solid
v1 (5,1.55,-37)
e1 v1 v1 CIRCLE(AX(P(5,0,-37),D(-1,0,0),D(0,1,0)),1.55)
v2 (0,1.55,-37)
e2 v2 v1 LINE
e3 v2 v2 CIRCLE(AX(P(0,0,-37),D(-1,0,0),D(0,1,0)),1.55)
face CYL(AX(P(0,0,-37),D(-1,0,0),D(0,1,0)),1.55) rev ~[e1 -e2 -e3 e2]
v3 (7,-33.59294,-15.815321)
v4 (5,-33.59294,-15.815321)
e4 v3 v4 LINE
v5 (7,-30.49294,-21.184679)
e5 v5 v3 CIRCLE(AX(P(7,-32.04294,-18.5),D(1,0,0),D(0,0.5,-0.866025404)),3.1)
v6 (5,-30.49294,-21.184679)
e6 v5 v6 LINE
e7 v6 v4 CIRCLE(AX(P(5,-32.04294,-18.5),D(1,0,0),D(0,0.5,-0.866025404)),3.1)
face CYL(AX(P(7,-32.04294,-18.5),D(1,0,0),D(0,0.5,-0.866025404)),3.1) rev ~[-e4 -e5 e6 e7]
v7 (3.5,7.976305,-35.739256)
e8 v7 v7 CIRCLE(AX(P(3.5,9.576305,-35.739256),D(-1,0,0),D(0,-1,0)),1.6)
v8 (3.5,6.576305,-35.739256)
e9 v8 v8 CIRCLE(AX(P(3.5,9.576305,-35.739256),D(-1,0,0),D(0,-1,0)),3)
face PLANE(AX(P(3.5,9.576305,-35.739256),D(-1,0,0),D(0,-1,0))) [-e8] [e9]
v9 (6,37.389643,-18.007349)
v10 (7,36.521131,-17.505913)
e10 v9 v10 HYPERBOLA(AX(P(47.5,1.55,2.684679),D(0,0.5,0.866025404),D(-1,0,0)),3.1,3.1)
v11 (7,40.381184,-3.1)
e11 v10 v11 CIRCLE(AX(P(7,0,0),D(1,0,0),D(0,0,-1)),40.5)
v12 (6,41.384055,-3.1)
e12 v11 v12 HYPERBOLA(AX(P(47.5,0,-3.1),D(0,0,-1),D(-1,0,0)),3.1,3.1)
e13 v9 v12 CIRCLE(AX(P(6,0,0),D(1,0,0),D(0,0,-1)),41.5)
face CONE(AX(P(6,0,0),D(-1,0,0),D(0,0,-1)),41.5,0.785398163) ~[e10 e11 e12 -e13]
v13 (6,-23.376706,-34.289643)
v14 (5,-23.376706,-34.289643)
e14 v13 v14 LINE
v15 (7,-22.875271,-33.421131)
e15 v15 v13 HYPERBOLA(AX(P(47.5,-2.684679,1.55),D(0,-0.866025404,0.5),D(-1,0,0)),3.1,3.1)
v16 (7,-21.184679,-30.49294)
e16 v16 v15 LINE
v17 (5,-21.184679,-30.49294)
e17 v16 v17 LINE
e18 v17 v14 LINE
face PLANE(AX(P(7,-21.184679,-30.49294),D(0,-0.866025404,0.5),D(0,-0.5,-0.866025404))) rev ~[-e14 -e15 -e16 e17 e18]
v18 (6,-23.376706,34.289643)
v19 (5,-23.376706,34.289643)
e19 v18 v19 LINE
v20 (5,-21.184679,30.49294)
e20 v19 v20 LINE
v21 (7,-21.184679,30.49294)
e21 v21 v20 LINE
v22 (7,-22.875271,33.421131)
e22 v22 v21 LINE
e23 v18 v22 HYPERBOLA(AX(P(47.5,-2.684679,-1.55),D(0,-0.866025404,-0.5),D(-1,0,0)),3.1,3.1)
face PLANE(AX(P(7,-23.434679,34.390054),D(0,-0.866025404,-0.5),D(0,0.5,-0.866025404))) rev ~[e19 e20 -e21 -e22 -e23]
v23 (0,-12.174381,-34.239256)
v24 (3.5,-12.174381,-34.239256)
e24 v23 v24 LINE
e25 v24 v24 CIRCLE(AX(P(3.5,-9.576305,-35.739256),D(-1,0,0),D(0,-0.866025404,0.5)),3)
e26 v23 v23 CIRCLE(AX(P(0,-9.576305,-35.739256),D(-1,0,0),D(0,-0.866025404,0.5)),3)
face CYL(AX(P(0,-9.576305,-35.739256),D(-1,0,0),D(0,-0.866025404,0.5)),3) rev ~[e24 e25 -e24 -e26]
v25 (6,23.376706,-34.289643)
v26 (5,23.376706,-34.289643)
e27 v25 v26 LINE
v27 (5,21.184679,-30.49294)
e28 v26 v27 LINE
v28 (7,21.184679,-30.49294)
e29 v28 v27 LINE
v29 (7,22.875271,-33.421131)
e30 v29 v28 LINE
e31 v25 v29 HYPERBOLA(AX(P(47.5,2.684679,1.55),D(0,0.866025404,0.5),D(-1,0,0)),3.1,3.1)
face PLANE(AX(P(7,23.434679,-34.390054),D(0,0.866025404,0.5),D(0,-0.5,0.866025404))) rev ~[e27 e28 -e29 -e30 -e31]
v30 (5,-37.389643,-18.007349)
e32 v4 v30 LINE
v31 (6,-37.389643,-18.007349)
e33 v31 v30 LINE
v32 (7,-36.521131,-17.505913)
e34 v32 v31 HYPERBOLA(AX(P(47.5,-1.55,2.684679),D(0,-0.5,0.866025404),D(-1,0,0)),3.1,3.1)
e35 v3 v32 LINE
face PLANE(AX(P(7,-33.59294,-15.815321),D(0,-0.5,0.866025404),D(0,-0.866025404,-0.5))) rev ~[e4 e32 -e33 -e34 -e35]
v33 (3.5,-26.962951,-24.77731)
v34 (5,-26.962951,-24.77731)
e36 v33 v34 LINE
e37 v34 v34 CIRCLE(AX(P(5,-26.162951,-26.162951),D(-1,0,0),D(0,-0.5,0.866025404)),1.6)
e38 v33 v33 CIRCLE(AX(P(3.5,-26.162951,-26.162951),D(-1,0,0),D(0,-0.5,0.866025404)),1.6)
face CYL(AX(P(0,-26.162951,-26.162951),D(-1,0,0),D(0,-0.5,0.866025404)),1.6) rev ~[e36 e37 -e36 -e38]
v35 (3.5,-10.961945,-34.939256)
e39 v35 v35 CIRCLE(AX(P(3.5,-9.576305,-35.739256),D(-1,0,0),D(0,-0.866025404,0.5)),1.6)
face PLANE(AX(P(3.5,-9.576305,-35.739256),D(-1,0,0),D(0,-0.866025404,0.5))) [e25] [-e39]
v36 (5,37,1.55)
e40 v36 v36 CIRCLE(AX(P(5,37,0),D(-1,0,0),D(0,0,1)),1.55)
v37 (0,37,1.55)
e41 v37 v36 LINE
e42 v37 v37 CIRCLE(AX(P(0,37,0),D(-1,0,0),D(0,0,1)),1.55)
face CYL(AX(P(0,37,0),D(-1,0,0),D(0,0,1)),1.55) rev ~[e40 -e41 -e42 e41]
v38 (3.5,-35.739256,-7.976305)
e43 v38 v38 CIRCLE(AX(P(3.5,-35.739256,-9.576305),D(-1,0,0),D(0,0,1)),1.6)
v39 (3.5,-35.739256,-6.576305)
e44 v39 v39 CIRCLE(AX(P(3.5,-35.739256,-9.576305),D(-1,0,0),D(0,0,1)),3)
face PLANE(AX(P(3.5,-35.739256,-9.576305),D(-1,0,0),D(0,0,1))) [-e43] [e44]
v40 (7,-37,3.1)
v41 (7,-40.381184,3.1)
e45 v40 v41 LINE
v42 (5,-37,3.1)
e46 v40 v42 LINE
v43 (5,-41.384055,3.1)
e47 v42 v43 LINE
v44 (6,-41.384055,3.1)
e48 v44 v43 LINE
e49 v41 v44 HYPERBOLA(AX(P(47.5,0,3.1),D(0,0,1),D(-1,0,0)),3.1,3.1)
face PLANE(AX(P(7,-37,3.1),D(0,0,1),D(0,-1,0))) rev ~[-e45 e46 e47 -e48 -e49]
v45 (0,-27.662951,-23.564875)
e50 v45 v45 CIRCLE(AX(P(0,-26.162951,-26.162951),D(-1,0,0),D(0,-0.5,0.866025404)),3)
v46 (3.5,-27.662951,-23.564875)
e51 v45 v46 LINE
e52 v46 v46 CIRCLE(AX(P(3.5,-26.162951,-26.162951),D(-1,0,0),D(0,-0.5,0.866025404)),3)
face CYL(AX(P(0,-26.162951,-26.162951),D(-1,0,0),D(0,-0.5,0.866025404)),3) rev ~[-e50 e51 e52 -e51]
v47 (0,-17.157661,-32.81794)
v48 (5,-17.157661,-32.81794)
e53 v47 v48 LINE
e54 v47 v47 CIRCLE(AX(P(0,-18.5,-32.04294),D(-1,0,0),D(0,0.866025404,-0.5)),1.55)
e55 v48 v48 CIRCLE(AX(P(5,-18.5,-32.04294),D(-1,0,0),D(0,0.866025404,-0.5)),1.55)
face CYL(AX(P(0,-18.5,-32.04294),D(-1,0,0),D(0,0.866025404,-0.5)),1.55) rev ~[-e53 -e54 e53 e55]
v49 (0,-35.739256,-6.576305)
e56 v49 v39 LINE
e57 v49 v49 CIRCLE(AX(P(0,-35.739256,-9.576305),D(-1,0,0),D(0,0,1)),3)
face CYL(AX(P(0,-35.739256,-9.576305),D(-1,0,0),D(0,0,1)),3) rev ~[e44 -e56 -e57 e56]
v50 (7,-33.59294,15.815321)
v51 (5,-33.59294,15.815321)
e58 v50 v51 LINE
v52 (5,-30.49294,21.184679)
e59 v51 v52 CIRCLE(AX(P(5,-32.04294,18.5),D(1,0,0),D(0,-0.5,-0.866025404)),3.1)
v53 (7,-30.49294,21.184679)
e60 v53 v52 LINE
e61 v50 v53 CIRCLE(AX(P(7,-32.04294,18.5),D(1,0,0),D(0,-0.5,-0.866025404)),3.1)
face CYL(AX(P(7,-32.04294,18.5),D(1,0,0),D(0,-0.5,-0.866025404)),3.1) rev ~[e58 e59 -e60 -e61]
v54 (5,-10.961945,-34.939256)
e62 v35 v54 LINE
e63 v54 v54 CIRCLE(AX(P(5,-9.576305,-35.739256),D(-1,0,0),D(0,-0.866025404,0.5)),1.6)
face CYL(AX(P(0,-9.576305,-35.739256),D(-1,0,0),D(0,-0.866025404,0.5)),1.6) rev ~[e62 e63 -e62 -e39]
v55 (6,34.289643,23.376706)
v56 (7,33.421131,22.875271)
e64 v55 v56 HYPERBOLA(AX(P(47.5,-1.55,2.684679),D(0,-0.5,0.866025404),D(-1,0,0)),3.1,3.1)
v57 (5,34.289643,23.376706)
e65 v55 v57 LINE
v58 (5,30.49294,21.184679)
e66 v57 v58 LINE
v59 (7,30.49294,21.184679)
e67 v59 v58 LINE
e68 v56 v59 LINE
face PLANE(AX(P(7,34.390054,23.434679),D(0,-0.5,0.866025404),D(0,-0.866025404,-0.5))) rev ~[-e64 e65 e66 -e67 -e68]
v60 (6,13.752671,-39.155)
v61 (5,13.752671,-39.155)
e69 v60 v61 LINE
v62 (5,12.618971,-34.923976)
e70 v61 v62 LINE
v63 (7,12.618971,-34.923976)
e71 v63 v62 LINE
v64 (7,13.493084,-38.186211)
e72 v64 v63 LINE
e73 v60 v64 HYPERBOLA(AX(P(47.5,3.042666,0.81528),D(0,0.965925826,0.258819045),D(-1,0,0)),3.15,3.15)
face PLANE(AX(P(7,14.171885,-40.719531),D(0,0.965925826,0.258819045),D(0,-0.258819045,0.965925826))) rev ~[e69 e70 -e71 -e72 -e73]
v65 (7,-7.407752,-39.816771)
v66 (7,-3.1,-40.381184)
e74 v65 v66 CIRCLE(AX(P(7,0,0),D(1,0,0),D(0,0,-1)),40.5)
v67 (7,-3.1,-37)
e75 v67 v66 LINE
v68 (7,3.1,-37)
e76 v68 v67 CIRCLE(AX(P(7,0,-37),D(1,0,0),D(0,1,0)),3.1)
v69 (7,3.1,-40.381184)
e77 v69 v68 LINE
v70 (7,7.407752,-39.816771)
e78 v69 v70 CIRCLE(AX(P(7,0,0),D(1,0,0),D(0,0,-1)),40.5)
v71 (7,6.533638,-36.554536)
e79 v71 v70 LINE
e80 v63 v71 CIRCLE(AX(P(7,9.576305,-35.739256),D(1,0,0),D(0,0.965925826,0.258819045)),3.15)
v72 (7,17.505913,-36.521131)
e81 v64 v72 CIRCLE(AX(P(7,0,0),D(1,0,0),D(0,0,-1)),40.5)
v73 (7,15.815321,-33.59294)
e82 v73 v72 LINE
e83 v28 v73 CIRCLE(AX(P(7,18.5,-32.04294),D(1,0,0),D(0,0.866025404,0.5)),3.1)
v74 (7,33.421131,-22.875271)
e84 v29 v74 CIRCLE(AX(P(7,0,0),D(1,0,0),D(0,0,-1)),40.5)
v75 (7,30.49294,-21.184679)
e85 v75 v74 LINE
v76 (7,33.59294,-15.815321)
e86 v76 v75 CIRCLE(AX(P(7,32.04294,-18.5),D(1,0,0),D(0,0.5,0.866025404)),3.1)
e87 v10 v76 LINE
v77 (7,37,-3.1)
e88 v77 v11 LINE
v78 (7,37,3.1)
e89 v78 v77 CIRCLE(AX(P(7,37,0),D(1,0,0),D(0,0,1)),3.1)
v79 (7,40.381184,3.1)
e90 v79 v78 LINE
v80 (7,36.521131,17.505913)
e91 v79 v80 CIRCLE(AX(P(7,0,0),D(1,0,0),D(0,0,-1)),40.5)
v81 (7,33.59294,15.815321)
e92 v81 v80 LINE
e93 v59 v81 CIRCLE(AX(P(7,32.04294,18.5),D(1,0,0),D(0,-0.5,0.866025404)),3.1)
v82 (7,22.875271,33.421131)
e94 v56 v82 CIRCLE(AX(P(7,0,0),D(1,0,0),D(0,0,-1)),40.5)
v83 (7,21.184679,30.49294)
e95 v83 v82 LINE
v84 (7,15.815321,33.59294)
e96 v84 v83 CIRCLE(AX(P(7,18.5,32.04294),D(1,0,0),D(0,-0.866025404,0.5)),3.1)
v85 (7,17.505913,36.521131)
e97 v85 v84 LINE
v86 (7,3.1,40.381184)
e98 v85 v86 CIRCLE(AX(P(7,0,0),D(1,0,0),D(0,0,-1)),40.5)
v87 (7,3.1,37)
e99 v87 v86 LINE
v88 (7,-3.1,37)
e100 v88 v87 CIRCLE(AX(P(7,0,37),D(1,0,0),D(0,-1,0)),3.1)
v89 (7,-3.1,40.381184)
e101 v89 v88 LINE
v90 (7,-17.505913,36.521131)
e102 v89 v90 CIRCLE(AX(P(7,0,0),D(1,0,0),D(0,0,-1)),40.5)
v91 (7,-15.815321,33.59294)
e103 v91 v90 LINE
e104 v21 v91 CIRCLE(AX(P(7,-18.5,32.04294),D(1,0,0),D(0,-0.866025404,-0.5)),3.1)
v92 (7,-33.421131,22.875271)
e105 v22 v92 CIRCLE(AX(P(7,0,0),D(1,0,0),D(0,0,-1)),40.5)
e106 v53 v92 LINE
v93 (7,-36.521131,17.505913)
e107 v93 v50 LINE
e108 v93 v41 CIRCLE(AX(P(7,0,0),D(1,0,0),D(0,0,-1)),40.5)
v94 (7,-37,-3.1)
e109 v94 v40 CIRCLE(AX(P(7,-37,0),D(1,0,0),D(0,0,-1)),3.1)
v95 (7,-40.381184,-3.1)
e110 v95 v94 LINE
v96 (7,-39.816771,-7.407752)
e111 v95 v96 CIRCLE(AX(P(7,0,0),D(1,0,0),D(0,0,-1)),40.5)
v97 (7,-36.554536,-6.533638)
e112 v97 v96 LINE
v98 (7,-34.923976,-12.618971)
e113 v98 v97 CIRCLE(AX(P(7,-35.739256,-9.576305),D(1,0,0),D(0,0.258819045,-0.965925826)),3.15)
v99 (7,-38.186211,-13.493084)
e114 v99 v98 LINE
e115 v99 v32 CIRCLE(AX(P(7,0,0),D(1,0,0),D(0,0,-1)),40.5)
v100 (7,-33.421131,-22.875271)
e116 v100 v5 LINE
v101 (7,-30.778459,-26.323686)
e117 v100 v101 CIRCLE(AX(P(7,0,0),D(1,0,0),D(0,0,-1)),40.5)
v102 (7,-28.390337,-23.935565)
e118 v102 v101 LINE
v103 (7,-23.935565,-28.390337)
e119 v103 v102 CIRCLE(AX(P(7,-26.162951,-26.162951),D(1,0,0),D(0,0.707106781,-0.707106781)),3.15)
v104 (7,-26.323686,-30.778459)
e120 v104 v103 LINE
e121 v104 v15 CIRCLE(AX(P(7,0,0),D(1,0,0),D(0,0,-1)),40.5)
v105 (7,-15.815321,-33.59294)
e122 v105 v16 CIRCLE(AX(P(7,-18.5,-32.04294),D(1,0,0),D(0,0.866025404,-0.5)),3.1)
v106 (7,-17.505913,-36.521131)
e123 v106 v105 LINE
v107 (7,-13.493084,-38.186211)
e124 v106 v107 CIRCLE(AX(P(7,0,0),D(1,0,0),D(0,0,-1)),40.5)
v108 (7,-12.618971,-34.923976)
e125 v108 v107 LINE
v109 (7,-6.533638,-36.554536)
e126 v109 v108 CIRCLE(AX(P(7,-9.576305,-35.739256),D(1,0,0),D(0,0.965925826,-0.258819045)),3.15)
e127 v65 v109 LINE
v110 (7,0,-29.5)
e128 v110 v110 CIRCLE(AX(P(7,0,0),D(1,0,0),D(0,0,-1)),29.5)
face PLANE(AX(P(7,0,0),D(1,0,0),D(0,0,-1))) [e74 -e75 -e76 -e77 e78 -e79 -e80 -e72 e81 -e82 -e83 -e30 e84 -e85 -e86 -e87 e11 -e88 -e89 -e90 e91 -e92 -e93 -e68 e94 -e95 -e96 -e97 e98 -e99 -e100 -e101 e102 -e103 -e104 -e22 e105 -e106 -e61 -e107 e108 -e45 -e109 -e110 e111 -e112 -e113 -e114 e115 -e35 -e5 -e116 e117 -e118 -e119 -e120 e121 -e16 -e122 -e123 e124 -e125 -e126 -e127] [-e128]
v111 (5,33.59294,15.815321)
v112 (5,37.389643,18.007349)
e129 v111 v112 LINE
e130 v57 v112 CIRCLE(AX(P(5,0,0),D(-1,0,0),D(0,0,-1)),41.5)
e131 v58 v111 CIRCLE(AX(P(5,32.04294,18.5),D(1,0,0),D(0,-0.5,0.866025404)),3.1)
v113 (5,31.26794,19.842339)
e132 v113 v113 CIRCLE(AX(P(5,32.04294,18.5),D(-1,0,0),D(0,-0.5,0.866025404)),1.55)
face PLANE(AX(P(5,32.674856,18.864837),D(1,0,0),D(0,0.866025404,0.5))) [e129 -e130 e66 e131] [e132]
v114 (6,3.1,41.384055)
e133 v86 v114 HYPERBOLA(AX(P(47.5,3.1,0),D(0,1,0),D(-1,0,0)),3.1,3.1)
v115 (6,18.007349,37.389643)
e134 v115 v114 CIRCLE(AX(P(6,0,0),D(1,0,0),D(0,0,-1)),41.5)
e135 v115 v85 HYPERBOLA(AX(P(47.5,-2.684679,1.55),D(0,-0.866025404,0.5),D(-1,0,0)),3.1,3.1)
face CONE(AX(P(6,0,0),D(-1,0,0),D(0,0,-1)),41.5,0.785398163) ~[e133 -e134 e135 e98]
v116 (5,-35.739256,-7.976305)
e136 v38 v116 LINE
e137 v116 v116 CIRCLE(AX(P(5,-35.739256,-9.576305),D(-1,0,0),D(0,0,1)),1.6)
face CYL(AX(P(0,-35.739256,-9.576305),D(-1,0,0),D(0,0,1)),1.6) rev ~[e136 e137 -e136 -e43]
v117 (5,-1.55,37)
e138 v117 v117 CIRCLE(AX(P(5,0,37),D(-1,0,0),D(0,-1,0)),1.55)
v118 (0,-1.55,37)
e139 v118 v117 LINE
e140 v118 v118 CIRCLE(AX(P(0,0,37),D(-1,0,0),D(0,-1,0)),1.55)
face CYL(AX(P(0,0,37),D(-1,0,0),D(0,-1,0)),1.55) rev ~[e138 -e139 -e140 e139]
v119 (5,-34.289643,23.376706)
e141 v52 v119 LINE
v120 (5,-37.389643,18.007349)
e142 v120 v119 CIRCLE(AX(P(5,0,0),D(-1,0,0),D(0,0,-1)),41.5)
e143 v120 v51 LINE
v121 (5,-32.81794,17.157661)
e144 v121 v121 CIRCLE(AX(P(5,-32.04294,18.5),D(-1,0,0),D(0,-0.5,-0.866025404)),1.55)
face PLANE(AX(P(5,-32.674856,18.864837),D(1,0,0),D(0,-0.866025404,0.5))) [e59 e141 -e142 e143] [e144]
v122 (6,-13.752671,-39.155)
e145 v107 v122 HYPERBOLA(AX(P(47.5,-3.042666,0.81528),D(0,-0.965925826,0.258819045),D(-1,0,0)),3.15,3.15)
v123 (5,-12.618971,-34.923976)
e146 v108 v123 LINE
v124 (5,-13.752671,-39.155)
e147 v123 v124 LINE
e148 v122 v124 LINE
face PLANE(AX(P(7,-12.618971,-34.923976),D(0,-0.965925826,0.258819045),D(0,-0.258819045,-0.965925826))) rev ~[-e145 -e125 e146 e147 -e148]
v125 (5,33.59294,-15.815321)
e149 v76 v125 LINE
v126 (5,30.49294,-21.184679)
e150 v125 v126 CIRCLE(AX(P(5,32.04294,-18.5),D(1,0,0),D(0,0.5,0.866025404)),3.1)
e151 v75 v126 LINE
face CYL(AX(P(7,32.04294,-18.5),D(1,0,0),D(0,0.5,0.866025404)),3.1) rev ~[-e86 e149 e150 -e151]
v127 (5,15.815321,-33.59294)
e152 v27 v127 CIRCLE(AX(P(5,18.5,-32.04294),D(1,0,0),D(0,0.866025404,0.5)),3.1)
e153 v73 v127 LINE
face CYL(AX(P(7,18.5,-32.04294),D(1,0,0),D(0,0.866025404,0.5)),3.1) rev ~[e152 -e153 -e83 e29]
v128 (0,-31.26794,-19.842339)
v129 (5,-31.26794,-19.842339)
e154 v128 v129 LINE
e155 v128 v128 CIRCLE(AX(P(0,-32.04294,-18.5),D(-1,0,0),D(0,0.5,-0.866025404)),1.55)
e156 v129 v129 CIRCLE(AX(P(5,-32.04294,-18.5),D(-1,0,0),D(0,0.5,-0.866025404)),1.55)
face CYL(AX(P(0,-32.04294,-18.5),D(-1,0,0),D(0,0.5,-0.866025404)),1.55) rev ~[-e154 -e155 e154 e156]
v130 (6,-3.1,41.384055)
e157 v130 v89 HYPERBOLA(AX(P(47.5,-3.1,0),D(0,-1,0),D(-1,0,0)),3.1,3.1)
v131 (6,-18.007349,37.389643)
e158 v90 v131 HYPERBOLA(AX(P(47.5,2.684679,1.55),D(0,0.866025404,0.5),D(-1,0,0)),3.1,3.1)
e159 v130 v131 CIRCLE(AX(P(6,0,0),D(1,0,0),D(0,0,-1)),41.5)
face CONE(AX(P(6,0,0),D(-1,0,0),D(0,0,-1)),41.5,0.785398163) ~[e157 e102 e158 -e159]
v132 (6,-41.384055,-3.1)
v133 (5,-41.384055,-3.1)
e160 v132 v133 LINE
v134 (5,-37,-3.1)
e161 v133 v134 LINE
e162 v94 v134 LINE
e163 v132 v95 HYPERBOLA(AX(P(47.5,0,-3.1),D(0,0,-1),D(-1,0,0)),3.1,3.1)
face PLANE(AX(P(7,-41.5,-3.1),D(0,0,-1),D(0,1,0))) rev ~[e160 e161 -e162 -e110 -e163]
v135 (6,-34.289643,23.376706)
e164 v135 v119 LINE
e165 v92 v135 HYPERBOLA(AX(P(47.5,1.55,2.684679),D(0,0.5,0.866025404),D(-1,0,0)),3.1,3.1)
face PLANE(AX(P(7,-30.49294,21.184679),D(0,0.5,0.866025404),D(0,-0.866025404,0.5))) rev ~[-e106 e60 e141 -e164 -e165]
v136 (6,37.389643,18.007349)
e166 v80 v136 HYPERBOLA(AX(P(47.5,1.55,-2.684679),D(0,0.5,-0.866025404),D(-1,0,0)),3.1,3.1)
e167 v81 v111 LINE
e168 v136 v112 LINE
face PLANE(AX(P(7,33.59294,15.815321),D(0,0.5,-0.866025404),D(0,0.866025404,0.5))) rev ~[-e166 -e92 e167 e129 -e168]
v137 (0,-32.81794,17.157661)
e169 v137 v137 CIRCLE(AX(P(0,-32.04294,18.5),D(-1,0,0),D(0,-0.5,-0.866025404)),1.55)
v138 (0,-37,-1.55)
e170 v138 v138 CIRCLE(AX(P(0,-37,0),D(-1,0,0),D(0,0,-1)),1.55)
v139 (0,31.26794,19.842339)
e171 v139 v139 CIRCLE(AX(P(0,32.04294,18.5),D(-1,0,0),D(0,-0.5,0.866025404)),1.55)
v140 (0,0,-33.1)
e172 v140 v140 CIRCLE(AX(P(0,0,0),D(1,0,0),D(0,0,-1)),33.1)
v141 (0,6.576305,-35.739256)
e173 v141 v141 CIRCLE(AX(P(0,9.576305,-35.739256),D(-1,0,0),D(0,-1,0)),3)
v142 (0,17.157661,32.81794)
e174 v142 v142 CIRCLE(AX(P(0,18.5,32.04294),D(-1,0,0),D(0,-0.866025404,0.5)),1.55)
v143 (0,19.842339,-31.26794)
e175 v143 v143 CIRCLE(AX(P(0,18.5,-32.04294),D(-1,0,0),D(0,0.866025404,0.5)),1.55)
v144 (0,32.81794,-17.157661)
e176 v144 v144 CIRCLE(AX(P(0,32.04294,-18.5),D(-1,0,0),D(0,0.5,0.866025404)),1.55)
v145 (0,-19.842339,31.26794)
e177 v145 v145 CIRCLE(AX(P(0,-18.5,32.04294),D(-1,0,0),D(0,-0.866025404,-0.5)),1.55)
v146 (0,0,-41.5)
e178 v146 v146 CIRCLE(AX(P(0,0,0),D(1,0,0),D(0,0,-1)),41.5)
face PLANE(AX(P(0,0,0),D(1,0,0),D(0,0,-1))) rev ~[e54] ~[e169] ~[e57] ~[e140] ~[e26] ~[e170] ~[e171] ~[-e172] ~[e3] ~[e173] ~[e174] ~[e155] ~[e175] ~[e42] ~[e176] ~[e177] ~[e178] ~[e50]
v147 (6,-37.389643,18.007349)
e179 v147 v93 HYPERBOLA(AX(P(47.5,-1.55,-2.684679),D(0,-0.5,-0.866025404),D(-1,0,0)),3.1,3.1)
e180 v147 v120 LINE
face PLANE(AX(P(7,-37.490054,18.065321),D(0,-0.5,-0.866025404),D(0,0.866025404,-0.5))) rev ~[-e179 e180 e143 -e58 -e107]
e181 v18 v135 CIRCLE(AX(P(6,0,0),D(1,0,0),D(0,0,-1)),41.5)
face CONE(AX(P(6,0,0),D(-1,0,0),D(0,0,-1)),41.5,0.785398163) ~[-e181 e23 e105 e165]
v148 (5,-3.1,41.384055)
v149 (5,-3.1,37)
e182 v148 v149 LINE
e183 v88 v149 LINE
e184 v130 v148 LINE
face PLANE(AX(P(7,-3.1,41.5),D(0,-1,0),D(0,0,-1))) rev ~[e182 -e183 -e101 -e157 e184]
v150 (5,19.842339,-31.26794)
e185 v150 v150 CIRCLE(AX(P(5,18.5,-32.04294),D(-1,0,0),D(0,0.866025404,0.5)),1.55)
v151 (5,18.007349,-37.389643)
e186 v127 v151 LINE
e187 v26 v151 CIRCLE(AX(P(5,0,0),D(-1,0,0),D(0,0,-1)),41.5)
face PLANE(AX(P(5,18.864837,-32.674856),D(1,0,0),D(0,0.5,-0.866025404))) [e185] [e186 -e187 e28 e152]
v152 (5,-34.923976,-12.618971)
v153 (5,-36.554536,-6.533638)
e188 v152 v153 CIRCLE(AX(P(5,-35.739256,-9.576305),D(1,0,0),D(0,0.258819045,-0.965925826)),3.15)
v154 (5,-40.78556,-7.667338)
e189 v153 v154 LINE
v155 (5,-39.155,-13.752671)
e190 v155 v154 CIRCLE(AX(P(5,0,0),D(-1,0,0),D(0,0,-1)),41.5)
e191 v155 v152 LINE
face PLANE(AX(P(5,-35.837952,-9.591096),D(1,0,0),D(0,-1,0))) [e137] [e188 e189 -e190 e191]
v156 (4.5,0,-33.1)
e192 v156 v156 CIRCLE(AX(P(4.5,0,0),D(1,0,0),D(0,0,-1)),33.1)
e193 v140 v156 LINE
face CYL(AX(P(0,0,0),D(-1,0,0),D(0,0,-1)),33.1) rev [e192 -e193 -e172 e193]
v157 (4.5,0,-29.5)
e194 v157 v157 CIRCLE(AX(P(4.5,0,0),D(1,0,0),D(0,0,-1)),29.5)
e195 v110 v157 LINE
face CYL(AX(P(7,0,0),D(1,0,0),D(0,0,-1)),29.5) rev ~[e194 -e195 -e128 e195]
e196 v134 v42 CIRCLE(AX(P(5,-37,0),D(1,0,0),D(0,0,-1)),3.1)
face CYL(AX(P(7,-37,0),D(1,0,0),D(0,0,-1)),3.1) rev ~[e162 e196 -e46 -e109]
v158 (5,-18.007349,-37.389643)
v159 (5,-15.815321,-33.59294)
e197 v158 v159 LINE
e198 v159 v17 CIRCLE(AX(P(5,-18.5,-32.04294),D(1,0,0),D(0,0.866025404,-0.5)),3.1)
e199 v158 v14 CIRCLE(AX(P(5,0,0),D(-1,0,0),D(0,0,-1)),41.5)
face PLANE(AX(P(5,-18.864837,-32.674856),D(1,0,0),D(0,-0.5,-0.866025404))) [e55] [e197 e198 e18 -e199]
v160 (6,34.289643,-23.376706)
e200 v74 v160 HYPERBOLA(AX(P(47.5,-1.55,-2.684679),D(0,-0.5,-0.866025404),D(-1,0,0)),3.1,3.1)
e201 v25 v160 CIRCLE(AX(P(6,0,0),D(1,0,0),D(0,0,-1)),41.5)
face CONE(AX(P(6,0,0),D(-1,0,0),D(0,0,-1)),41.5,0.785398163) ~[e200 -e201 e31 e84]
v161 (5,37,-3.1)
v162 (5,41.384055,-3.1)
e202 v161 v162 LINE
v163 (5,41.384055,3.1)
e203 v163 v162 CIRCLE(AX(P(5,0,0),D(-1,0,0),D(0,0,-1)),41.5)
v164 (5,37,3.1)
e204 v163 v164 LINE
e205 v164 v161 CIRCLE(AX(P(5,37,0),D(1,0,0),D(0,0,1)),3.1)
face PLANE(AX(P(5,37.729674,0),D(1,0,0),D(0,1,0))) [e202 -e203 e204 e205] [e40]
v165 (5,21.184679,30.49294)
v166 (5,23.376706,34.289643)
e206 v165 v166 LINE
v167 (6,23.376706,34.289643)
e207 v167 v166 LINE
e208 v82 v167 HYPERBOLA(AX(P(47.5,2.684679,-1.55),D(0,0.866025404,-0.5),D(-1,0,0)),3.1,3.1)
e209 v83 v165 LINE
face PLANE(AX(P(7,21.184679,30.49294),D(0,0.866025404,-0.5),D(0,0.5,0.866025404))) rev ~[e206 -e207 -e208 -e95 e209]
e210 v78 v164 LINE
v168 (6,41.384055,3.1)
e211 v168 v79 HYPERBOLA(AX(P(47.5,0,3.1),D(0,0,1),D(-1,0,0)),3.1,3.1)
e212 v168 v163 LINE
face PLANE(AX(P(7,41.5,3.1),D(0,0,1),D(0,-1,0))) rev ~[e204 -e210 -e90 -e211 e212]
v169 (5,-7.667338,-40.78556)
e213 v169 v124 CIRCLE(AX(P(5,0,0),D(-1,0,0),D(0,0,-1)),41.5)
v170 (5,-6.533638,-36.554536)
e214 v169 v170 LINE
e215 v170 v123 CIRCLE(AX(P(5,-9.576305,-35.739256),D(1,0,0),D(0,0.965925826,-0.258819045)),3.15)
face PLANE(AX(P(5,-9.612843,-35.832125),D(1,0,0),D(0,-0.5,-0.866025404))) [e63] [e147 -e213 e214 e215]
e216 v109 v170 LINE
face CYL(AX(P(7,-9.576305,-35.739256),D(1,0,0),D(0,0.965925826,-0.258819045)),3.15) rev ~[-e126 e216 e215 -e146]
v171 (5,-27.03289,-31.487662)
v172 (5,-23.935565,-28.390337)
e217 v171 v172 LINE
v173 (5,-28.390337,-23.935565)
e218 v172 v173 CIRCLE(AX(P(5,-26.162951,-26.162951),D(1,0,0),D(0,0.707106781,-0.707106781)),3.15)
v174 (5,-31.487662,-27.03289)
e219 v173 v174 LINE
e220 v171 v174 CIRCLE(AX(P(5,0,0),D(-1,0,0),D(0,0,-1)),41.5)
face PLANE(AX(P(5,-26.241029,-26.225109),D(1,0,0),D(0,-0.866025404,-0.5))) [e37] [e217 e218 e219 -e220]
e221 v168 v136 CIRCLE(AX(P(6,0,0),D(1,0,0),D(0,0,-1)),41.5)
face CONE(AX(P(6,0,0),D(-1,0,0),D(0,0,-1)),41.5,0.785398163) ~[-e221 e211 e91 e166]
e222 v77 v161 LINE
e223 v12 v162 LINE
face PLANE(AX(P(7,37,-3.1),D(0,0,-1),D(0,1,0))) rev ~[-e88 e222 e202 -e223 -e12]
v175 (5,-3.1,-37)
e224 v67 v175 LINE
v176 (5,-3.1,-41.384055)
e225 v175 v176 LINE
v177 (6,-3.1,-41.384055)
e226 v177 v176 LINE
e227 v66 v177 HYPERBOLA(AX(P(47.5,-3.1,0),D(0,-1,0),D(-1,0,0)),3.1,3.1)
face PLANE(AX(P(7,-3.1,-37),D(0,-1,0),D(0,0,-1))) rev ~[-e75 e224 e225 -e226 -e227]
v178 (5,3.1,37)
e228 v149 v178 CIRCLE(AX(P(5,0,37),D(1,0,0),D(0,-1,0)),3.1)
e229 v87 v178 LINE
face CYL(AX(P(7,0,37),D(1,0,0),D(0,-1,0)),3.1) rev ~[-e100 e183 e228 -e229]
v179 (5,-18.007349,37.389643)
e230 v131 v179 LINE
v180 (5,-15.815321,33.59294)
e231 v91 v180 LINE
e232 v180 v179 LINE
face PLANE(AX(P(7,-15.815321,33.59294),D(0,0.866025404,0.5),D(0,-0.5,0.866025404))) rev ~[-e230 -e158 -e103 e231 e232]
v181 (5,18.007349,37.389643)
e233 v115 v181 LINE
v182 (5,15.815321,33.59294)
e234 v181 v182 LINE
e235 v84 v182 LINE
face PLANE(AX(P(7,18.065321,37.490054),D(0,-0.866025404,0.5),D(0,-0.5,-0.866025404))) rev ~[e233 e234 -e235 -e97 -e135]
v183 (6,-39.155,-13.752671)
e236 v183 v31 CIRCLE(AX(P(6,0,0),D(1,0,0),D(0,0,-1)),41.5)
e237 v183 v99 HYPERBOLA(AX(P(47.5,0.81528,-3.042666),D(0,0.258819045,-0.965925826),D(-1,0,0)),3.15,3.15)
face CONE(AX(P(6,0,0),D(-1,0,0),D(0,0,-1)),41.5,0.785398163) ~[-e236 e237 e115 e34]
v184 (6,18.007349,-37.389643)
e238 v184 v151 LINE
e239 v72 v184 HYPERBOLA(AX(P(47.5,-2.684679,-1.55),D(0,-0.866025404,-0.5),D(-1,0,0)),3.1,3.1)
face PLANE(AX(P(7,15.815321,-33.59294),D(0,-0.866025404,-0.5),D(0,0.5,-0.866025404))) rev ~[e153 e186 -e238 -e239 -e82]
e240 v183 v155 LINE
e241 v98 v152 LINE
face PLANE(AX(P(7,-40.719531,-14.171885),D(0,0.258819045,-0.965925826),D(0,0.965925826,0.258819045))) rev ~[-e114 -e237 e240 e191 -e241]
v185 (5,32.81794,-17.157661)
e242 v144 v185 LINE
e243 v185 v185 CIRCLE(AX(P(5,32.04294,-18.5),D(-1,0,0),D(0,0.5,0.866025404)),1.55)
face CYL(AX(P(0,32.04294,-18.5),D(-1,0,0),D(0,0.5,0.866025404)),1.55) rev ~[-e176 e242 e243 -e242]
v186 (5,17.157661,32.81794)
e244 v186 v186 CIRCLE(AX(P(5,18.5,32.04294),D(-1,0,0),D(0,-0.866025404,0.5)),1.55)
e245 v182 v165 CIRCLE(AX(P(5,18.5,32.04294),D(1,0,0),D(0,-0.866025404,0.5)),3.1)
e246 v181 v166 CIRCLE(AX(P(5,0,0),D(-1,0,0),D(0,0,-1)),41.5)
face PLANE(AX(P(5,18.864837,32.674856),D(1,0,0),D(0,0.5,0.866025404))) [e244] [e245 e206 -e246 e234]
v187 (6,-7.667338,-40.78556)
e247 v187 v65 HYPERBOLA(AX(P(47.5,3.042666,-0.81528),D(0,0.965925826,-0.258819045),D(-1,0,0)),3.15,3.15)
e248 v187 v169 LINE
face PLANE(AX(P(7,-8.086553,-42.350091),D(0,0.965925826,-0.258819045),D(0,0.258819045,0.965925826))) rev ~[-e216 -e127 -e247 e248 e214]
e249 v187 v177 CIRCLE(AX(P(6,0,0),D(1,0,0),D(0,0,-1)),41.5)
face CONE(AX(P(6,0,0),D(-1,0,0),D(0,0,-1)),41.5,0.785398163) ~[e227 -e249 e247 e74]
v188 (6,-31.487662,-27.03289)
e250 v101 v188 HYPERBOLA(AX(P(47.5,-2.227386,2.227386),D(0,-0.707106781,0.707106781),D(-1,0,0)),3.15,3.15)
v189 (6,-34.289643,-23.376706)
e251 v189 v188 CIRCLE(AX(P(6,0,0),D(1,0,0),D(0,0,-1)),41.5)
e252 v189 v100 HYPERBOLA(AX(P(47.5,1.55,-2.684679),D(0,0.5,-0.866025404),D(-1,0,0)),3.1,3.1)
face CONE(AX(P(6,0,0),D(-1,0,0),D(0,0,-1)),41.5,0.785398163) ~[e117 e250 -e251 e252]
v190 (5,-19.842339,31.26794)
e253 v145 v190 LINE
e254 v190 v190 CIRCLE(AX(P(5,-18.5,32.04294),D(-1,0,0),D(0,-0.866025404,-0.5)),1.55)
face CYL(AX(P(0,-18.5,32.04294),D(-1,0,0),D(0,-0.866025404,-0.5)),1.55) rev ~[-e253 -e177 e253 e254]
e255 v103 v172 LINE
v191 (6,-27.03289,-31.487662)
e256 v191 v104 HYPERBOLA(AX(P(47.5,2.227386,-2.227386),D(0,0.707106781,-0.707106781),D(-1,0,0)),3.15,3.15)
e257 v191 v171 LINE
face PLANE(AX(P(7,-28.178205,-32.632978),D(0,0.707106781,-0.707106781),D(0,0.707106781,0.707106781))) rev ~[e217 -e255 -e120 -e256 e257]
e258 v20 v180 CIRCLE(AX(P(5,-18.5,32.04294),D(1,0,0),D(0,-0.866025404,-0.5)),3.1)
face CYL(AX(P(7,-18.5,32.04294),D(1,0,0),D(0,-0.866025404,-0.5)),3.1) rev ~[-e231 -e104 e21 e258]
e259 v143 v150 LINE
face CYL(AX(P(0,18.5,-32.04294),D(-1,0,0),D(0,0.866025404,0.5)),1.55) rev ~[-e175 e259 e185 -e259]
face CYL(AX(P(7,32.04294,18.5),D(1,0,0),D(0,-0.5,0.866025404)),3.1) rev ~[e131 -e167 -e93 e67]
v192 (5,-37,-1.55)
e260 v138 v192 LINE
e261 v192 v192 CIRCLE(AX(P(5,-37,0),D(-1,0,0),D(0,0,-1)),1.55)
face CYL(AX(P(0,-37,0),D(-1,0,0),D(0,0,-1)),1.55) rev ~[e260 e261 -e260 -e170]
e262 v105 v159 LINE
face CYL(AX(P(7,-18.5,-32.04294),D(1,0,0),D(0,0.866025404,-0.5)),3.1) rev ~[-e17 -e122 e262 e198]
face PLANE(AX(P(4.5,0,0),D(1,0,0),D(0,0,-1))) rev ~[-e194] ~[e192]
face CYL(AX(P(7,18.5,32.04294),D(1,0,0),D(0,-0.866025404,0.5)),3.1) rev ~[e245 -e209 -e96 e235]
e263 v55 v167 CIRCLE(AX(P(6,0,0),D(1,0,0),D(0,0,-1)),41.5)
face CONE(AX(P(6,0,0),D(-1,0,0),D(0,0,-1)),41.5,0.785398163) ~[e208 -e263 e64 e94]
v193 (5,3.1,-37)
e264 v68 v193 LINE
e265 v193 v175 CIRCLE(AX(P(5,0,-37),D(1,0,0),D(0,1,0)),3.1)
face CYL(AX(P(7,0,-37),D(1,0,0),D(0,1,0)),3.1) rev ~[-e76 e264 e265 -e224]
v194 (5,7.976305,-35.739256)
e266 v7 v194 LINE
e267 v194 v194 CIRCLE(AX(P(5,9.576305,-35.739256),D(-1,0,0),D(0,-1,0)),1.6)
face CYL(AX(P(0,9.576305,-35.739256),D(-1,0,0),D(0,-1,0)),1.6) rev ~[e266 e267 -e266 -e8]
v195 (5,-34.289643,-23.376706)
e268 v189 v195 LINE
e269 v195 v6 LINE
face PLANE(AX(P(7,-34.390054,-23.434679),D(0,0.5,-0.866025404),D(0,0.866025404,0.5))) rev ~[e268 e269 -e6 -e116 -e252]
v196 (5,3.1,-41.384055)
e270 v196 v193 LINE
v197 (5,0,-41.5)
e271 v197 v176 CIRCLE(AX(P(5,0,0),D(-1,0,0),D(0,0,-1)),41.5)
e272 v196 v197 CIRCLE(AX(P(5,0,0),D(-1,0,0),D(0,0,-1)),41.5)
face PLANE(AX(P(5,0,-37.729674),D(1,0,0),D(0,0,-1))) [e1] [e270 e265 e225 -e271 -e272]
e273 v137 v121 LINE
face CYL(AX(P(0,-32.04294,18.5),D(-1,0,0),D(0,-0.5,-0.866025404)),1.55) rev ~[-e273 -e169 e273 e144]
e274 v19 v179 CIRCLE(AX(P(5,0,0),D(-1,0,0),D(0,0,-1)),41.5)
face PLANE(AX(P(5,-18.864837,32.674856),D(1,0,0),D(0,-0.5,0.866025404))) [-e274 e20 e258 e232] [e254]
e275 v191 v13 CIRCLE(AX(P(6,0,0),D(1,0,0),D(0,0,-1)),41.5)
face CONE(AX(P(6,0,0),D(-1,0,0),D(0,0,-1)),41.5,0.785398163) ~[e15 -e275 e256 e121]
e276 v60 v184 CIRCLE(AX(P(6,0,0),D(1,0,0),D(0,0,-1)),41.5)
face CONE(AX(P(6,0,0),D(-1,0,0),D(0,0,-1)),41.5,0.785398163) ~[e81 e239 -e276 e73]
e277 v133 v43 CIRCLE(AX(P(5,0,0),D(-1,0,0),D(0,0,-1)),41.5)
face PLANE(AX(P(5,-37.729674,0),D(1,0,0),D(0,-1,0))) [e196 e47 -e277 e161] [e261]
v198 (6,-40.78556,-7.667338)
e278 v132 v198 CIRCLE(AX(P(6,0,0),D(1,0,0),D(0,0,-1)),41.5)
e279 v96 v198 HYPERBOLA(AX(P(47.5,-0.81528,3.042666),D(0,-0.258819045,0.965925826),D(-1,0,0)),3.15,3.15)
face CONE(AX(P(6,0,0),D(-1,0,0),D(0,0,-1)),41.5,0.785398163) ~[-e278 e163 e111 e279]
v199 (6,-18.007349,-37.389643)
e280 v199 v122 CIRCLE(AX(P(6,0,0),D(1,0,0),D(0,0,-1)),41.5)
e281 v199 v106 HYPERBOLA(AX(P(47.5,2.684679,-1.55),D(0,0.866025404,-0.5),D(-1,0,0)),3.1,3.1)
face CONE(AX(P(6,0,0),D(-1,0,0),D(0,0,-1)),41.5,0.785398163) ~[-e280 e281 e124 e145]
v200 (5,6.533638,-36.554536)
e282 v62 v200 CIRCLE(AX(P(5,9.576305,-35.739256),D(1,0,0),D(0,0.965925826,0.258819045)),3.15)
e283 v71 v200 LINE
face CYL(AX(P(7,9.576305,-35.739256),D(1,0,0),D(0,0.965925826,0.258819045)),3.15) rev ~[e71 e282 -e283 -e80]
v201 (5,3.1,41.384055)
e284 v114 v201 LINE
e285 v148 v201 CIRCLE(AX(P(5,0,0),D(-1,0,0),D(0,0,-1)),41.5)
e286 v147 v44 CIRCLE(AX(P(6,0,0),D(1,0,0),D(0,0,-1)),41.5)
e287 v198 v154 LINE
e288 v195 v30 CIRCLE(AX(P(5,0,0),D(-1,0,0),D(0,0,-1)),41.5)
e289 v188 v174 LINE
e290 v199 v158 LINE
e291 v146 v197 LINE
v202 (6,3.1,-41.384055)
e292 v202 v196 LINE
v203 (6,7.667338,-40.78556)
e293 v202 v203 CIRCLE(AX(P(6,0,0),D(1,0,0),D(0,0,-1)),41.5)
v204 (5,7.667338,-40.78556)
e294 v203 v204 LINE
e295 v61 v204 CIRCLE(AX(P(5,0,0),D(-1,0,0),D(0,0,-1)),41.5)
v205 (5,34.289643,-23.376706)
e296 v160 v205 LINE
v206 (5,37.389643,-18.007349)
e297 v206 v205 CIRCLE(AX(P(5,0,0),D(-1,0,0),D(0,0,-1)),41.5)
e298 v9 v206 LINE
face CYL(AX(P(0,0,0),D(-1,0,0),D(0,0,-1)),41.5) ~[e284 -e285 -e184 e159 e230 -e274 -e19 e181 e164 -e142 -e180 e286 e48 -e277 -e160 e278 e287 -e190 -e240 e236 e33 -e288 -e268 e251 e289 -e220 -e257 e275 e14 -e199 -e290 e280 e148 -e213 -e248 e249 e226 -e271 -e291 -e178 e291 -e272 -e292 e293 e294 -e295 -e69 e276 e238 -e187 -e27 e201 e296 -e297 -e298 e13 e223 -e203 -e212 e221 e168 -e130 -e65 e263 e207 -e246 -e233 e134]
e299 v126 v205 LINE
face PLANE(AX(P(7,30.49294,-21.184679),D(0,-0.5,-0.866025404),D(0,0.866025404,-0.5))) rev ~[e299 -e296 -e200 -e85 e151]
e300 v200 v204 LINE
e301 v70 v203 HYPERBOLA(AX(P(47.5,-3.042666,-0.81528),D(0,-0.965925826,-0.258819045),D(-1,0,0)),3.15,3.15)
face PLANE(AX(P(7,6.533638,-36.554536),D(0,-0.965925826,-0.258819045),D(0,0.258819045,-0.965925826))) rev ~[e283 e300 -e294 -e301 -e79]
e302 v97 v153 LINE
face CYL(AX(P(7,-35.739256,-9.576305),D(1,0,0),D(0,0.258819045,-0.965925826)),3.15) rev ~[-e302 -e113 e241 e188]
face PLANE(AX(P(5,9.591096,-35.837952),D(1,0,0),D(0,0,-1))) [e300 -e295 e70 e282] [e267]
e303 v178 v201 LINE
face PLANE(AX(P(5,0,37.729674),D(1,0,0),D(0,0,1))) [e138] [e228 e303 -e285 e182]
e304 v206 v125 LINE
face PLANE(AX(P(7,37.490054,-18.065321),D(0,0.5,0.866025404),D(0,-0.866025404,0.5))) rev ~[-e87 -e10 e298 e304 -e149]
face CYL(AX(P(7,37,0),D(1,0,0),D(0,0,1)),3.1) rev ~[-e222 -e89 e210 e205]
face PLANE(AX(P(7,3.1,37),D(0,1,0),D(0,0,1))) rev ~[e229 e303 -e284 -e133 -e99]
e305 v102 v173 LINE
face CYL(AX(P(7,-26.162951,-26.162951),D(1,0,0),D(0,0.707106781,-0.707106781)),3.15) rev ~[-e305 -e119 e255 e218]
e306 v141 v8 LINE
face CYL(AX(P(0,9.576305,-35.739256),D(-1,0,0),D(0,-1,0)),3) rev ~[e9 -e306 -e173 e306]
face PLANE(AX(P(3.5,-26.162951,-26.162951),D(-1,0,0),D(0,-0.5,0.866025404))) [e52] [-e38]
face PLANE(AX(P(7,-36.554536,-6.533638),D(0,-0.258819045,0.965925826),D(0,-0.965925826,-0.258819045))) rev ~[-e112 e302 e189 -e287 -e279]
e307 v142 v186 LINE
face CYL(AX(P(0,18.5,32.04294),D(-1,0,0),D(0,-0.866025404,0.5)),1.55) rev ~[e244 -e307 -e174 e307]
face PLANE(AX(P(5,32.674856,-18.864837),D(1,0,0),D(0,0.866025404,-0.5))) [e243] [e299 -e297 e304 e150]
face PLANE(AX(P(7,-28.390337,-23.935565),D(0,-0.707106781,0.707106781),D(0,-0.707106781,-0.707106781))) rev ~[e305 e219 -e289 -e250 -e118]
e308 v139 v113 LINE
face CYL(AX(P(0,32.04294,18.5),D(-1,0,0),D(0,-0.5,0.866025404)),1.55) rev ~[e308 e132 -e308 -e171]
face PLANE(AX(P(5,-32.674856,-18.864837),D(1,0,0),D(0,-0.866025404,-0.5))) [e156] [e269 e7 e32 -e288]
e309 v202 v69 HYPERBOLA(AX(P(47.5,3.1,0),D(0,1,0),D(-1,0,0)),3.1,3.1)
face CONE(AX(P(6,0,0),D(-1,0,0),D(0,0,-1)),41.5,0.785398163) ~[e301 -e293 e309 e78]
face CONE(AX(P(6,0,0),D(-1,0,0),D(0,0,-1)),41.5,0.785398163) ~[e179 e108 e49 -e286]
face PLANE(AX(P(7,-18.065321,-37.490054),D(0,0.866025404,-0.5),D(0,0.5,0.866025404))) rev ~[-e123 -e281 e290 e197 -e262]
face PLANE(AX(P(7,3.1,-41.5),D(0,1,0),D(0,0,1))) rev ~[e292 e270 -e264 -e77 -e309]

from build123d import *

# Parameters (mm, degrees)
SKETCH_1_R                = 41.5
SKETCH_1_R_2              = 33.1
EXTRUDE_1_DEPTH           = 7
SKETCH_2_R                = 1.55
CUT_EXTRUDE_1_DEPTH       = 8
PATTERN_CIRCULAR_1_COUNT  = 12
SKETCH_3_R                = 33.1
SKETCH_3_R_2              = 29.5
EXTRUDE_2_DEPTH           = 2.5
CHAMFER_1_SIZE            = 1
SKETCH_4_R                = 1.55
CUT_EXTRUDE_8_DEPTH       = 2
PATTERN_CIRCULAR_7_COUNT  = 12
SKETCH_7_R                = 1.6
CUT_EXTRUDE_10_DEPTH      = 10
PATTERN_CIRCULAR_9_COUNT  = 4
PATTERN_CIRCULAR_9_ANGLE  = 90
SKETCH_6_R                = 3
CUT_EXTRUDE_9_DEPTH       = 3.5
PATTERN_CIRCULAR_8_COUNT  = 4
PATTERN_CIRCULAR_8_ANGLE  = 90
SKETCH_8_R                = 1.6
CUT_EXTRUDE_11_DEPTH      = 2
PATTERN_CIRCULAR_10_COUNT = 4
PATTERN_CIRCULAR_10_ANGLE = 90


with BuildPart() as part:
    # 草图1 → 凸台-拉伸1 (new body)
    with BuildSketch(Plane(origin=(0, 0, 0), x_dir=(0, 0, -1), z_dir=(1, 0, 0))):
        Circle(SKETCH_1_R)
        Circle(SKETCH_1_R_2, mode=Mode.SUBTRACT)
    extrude(amount=EXTRUDE_1_DEPTH)

    # 草图2 → 切除-拉伸1 (cut)
    with BuildSketch(Plane.ZY):
        with Locations((0, 37)):
            Circle(SKETCH_2_R)
    cut_extrude_1 = extrude(amount=-CUT_EXTRUDE_1_DEPTH, mode=Mode.SUBTRACT)

    # 阵列(圆周)1: 切除-拉伸1 ×12 about axis
    pattern_circular_1_axis = Axis((0, 0, 0), (1, 0, 0))
    for i in range(1, PATTERN_CIRCULAR_1_COUNT):
        add(cut_extrude_1.rotate(pattern_circular_1_axis, i * 360 / PATTERN_CIRCULAR_1_COUNT), mode=Mode.SUBTRACT)

    # 草图3 → 凸台-拉伸2 (add)
    with BuildSketch(Plane(origin=(7, 0, 0), x_dir=(0, 0, -1), z_dir=(1, 0, 0))):
        Circle(SKETCH_3_R)
        Circle(SKETCH_3_R_2, mode=Mode.SUBTRACT)
    extrude(amount=-EXTRUDE_2_DEPTH)

    # 倒角1
    chamfer_1_edges = [part.edges().sort_by_distance(p)[0] for p in [
        (7, 0, 41.5),
    ]]
    chamfer(chamfer_1_edges, length=CHAMFER_1_SIZE)

    # 草图4 → 切除-拉伸8 (cut)
    with BuildSketch(Plane(origin=(7, 0, 0), x_dir=(0, 0, -1), z_dir=(1, 0, 0))):
        with BuildLine():
            Line((40.381183737, 3.1), (37, 3.1))
            ThreePointArc((37, 3.1), (33.9, 0), (37, -3.1))
            Line((37, -3.1), (40.381183737, -3.1))
            ThreePointArc((40.381183737, -3.1), (40.470285033, -1.551138074), (40.5, 0))
            ThreePointArc((40.5, 0), (40.470285033, 1.551138074), (40.381183737, 3.1))
        make_face()
        with Locations((37, 0)):
            Circle(SKETCH_4_R, mode=Mode.SUBTRACT)
        with BuildLine():
            Line((41.5, 3.1), (40.381183737, 3.1))
            ThreePointArc((40.381183737, 3.1), (40.470285033, 1.551138074), (40.5, 0))
            ThreePointArc((40.5, 0), (40.470285033, -1.551138074), (40.381183737, -3.1))
            Line((40.381183737, -3.1), (41.5, -3.1))
            ThreePointArc((41.5, -3.1), (44.6, 0), (41.5, 3.1))
        make_face()
    cut_extrude_8 = extrude(amount=-CUT_EXTRUDE_8_DEPTH, mode=Mode.SUBTRACT)

    # 阵列(圆周)7: 切除-拉伸8 ×12 about axis
    pattern_circular_7_axis = Axis((0, 0, 0), (1, 0, 0))
    for i in range(1, PATTERN_CIRCULAR_7_COUNT):
        add(cut_extrude_8.rotate(pattern_circular_7_axis, i * 360 / PATTERN_CIRCULAR_7_COUNT), mode=Mode.SUBTRACT)

    # 草图7 → 切除-拉伸10 (cut)
    with BuildSketch(Plane.ZY):
        with Locations((-9.576304669, -35.739255573)):
            Circle(SKETCH_7_R)
    cut_extrude_10 = extrude(amount=-CUT_EXTRUDE_10_DEPTH, mode=Mode.SUBTRACT)

    # 阵列(圆周)9: 切除-拉伸10 ×4 about axis
    pattern_circular_9_axis = Axis((0, 0, 0), (1, 0, 0))
    for i in range(1, PATTERN_CIRCULAR_9_COUNT):
        add(cut_extrude_10.rotate(pattern_circular_9_axis, i * PATTERN_CIRCULAR_9_ANGLE / (PATTERN_CIRCULAR_9_COUNT - 1)), mode=Mode.SUBTRACT)

    # 草图6 → 切除-拉伸9 (cut)
    with BuildSketch(Plane.ZY):
        with Locations((-9.576304669, -35.739255573)):
            Circle(SKETCH_6_R)
    cut_extrude_9 = extrude(amount=-CUT_EXTRUDE_9_DEPTH, mode=Mode.SUBTRACT)

    # 阵列(圆周)8: 切除-拉伸9 ×4 about axis
    pattern_circular_8_axis = Axis((0, 0, 0), (1, 0, 0))
    for i in range(1, PATTERN_CIRCULAR_8_COUNT):
        add(cut_extrude_9.rotate(pattern_circular_8_axis, i * PATTERN_CIRCULAR_8_ANGLE / (PATTERN_CIRCULAR_8_COUNT - 1)), mode=Mode.SUBTRACT)

    # 草图8 → 切除-拉伸11 (cut)
    with BuildSketch(Plane(origin=(7, 0, 0), x_dir=(0, 0, -1), z_dir=(1, 0, 0))):
        with BuildLine():
            ThreePointArc((38.889255573, 9.576304669), (37.656854074, 12.075367691), (34.923975581, 12.618971022))
            ThreePointArc((34.923975581, 12.618971022), (32.69658922, 8.761024677), (36.554535565, 6.533638316))
            ThreePointArc((36.554535565, 6.533638316), (38.238318595, 7.658706167), (38.889255573, 9.576304669))
        make_face()
        with Locations((35.739255573, 9.576304669)):
            Circle(SKETCH_8_R, mode=Mode.SUBTRACT)
        with BuildLine():
            Line((40.719530538, 14.171885292), (34.923975581, 12.618971022))
            ThreePointArc((34.923975581, 12.618971022), (37.656854074, 12.075367691), (38.889255573, 9.576304669))
            ThreePointArc((38.889255573, 9.576304669), (38.238318595, 7.658706167), (36.554535565, 6.533638316))
            Line((36.554535565, 6.533638316), (42.350090523, 8.086552587))
            Line((42.350090523, 8.086552587), (40.719530538, 14.171885292))
        make_face()
    cut_extrude_11 = extrude(amount=-CUT_EXTRUDE_11_DEPTH, mode=Mode.SUBTRACT)

    # 阵列(圆周)10: 切除-拉伸11 ×4 about axis
    pattern_circular_10_axis = Axis((0, 0, 0), (-1, 0, 0))
    for i in range(1, PATTERN_CIRCULAR_10_COUNT):
        add(cut_extrude_11.rotate(pattern_circular_10_axis, i * PATTERN_CIRCULAR_10_ANGLE / (PATTERN_CIRCULAR_10_COUNT - 1)), mode=Mode.SUBTRACT)


solid = part.part
